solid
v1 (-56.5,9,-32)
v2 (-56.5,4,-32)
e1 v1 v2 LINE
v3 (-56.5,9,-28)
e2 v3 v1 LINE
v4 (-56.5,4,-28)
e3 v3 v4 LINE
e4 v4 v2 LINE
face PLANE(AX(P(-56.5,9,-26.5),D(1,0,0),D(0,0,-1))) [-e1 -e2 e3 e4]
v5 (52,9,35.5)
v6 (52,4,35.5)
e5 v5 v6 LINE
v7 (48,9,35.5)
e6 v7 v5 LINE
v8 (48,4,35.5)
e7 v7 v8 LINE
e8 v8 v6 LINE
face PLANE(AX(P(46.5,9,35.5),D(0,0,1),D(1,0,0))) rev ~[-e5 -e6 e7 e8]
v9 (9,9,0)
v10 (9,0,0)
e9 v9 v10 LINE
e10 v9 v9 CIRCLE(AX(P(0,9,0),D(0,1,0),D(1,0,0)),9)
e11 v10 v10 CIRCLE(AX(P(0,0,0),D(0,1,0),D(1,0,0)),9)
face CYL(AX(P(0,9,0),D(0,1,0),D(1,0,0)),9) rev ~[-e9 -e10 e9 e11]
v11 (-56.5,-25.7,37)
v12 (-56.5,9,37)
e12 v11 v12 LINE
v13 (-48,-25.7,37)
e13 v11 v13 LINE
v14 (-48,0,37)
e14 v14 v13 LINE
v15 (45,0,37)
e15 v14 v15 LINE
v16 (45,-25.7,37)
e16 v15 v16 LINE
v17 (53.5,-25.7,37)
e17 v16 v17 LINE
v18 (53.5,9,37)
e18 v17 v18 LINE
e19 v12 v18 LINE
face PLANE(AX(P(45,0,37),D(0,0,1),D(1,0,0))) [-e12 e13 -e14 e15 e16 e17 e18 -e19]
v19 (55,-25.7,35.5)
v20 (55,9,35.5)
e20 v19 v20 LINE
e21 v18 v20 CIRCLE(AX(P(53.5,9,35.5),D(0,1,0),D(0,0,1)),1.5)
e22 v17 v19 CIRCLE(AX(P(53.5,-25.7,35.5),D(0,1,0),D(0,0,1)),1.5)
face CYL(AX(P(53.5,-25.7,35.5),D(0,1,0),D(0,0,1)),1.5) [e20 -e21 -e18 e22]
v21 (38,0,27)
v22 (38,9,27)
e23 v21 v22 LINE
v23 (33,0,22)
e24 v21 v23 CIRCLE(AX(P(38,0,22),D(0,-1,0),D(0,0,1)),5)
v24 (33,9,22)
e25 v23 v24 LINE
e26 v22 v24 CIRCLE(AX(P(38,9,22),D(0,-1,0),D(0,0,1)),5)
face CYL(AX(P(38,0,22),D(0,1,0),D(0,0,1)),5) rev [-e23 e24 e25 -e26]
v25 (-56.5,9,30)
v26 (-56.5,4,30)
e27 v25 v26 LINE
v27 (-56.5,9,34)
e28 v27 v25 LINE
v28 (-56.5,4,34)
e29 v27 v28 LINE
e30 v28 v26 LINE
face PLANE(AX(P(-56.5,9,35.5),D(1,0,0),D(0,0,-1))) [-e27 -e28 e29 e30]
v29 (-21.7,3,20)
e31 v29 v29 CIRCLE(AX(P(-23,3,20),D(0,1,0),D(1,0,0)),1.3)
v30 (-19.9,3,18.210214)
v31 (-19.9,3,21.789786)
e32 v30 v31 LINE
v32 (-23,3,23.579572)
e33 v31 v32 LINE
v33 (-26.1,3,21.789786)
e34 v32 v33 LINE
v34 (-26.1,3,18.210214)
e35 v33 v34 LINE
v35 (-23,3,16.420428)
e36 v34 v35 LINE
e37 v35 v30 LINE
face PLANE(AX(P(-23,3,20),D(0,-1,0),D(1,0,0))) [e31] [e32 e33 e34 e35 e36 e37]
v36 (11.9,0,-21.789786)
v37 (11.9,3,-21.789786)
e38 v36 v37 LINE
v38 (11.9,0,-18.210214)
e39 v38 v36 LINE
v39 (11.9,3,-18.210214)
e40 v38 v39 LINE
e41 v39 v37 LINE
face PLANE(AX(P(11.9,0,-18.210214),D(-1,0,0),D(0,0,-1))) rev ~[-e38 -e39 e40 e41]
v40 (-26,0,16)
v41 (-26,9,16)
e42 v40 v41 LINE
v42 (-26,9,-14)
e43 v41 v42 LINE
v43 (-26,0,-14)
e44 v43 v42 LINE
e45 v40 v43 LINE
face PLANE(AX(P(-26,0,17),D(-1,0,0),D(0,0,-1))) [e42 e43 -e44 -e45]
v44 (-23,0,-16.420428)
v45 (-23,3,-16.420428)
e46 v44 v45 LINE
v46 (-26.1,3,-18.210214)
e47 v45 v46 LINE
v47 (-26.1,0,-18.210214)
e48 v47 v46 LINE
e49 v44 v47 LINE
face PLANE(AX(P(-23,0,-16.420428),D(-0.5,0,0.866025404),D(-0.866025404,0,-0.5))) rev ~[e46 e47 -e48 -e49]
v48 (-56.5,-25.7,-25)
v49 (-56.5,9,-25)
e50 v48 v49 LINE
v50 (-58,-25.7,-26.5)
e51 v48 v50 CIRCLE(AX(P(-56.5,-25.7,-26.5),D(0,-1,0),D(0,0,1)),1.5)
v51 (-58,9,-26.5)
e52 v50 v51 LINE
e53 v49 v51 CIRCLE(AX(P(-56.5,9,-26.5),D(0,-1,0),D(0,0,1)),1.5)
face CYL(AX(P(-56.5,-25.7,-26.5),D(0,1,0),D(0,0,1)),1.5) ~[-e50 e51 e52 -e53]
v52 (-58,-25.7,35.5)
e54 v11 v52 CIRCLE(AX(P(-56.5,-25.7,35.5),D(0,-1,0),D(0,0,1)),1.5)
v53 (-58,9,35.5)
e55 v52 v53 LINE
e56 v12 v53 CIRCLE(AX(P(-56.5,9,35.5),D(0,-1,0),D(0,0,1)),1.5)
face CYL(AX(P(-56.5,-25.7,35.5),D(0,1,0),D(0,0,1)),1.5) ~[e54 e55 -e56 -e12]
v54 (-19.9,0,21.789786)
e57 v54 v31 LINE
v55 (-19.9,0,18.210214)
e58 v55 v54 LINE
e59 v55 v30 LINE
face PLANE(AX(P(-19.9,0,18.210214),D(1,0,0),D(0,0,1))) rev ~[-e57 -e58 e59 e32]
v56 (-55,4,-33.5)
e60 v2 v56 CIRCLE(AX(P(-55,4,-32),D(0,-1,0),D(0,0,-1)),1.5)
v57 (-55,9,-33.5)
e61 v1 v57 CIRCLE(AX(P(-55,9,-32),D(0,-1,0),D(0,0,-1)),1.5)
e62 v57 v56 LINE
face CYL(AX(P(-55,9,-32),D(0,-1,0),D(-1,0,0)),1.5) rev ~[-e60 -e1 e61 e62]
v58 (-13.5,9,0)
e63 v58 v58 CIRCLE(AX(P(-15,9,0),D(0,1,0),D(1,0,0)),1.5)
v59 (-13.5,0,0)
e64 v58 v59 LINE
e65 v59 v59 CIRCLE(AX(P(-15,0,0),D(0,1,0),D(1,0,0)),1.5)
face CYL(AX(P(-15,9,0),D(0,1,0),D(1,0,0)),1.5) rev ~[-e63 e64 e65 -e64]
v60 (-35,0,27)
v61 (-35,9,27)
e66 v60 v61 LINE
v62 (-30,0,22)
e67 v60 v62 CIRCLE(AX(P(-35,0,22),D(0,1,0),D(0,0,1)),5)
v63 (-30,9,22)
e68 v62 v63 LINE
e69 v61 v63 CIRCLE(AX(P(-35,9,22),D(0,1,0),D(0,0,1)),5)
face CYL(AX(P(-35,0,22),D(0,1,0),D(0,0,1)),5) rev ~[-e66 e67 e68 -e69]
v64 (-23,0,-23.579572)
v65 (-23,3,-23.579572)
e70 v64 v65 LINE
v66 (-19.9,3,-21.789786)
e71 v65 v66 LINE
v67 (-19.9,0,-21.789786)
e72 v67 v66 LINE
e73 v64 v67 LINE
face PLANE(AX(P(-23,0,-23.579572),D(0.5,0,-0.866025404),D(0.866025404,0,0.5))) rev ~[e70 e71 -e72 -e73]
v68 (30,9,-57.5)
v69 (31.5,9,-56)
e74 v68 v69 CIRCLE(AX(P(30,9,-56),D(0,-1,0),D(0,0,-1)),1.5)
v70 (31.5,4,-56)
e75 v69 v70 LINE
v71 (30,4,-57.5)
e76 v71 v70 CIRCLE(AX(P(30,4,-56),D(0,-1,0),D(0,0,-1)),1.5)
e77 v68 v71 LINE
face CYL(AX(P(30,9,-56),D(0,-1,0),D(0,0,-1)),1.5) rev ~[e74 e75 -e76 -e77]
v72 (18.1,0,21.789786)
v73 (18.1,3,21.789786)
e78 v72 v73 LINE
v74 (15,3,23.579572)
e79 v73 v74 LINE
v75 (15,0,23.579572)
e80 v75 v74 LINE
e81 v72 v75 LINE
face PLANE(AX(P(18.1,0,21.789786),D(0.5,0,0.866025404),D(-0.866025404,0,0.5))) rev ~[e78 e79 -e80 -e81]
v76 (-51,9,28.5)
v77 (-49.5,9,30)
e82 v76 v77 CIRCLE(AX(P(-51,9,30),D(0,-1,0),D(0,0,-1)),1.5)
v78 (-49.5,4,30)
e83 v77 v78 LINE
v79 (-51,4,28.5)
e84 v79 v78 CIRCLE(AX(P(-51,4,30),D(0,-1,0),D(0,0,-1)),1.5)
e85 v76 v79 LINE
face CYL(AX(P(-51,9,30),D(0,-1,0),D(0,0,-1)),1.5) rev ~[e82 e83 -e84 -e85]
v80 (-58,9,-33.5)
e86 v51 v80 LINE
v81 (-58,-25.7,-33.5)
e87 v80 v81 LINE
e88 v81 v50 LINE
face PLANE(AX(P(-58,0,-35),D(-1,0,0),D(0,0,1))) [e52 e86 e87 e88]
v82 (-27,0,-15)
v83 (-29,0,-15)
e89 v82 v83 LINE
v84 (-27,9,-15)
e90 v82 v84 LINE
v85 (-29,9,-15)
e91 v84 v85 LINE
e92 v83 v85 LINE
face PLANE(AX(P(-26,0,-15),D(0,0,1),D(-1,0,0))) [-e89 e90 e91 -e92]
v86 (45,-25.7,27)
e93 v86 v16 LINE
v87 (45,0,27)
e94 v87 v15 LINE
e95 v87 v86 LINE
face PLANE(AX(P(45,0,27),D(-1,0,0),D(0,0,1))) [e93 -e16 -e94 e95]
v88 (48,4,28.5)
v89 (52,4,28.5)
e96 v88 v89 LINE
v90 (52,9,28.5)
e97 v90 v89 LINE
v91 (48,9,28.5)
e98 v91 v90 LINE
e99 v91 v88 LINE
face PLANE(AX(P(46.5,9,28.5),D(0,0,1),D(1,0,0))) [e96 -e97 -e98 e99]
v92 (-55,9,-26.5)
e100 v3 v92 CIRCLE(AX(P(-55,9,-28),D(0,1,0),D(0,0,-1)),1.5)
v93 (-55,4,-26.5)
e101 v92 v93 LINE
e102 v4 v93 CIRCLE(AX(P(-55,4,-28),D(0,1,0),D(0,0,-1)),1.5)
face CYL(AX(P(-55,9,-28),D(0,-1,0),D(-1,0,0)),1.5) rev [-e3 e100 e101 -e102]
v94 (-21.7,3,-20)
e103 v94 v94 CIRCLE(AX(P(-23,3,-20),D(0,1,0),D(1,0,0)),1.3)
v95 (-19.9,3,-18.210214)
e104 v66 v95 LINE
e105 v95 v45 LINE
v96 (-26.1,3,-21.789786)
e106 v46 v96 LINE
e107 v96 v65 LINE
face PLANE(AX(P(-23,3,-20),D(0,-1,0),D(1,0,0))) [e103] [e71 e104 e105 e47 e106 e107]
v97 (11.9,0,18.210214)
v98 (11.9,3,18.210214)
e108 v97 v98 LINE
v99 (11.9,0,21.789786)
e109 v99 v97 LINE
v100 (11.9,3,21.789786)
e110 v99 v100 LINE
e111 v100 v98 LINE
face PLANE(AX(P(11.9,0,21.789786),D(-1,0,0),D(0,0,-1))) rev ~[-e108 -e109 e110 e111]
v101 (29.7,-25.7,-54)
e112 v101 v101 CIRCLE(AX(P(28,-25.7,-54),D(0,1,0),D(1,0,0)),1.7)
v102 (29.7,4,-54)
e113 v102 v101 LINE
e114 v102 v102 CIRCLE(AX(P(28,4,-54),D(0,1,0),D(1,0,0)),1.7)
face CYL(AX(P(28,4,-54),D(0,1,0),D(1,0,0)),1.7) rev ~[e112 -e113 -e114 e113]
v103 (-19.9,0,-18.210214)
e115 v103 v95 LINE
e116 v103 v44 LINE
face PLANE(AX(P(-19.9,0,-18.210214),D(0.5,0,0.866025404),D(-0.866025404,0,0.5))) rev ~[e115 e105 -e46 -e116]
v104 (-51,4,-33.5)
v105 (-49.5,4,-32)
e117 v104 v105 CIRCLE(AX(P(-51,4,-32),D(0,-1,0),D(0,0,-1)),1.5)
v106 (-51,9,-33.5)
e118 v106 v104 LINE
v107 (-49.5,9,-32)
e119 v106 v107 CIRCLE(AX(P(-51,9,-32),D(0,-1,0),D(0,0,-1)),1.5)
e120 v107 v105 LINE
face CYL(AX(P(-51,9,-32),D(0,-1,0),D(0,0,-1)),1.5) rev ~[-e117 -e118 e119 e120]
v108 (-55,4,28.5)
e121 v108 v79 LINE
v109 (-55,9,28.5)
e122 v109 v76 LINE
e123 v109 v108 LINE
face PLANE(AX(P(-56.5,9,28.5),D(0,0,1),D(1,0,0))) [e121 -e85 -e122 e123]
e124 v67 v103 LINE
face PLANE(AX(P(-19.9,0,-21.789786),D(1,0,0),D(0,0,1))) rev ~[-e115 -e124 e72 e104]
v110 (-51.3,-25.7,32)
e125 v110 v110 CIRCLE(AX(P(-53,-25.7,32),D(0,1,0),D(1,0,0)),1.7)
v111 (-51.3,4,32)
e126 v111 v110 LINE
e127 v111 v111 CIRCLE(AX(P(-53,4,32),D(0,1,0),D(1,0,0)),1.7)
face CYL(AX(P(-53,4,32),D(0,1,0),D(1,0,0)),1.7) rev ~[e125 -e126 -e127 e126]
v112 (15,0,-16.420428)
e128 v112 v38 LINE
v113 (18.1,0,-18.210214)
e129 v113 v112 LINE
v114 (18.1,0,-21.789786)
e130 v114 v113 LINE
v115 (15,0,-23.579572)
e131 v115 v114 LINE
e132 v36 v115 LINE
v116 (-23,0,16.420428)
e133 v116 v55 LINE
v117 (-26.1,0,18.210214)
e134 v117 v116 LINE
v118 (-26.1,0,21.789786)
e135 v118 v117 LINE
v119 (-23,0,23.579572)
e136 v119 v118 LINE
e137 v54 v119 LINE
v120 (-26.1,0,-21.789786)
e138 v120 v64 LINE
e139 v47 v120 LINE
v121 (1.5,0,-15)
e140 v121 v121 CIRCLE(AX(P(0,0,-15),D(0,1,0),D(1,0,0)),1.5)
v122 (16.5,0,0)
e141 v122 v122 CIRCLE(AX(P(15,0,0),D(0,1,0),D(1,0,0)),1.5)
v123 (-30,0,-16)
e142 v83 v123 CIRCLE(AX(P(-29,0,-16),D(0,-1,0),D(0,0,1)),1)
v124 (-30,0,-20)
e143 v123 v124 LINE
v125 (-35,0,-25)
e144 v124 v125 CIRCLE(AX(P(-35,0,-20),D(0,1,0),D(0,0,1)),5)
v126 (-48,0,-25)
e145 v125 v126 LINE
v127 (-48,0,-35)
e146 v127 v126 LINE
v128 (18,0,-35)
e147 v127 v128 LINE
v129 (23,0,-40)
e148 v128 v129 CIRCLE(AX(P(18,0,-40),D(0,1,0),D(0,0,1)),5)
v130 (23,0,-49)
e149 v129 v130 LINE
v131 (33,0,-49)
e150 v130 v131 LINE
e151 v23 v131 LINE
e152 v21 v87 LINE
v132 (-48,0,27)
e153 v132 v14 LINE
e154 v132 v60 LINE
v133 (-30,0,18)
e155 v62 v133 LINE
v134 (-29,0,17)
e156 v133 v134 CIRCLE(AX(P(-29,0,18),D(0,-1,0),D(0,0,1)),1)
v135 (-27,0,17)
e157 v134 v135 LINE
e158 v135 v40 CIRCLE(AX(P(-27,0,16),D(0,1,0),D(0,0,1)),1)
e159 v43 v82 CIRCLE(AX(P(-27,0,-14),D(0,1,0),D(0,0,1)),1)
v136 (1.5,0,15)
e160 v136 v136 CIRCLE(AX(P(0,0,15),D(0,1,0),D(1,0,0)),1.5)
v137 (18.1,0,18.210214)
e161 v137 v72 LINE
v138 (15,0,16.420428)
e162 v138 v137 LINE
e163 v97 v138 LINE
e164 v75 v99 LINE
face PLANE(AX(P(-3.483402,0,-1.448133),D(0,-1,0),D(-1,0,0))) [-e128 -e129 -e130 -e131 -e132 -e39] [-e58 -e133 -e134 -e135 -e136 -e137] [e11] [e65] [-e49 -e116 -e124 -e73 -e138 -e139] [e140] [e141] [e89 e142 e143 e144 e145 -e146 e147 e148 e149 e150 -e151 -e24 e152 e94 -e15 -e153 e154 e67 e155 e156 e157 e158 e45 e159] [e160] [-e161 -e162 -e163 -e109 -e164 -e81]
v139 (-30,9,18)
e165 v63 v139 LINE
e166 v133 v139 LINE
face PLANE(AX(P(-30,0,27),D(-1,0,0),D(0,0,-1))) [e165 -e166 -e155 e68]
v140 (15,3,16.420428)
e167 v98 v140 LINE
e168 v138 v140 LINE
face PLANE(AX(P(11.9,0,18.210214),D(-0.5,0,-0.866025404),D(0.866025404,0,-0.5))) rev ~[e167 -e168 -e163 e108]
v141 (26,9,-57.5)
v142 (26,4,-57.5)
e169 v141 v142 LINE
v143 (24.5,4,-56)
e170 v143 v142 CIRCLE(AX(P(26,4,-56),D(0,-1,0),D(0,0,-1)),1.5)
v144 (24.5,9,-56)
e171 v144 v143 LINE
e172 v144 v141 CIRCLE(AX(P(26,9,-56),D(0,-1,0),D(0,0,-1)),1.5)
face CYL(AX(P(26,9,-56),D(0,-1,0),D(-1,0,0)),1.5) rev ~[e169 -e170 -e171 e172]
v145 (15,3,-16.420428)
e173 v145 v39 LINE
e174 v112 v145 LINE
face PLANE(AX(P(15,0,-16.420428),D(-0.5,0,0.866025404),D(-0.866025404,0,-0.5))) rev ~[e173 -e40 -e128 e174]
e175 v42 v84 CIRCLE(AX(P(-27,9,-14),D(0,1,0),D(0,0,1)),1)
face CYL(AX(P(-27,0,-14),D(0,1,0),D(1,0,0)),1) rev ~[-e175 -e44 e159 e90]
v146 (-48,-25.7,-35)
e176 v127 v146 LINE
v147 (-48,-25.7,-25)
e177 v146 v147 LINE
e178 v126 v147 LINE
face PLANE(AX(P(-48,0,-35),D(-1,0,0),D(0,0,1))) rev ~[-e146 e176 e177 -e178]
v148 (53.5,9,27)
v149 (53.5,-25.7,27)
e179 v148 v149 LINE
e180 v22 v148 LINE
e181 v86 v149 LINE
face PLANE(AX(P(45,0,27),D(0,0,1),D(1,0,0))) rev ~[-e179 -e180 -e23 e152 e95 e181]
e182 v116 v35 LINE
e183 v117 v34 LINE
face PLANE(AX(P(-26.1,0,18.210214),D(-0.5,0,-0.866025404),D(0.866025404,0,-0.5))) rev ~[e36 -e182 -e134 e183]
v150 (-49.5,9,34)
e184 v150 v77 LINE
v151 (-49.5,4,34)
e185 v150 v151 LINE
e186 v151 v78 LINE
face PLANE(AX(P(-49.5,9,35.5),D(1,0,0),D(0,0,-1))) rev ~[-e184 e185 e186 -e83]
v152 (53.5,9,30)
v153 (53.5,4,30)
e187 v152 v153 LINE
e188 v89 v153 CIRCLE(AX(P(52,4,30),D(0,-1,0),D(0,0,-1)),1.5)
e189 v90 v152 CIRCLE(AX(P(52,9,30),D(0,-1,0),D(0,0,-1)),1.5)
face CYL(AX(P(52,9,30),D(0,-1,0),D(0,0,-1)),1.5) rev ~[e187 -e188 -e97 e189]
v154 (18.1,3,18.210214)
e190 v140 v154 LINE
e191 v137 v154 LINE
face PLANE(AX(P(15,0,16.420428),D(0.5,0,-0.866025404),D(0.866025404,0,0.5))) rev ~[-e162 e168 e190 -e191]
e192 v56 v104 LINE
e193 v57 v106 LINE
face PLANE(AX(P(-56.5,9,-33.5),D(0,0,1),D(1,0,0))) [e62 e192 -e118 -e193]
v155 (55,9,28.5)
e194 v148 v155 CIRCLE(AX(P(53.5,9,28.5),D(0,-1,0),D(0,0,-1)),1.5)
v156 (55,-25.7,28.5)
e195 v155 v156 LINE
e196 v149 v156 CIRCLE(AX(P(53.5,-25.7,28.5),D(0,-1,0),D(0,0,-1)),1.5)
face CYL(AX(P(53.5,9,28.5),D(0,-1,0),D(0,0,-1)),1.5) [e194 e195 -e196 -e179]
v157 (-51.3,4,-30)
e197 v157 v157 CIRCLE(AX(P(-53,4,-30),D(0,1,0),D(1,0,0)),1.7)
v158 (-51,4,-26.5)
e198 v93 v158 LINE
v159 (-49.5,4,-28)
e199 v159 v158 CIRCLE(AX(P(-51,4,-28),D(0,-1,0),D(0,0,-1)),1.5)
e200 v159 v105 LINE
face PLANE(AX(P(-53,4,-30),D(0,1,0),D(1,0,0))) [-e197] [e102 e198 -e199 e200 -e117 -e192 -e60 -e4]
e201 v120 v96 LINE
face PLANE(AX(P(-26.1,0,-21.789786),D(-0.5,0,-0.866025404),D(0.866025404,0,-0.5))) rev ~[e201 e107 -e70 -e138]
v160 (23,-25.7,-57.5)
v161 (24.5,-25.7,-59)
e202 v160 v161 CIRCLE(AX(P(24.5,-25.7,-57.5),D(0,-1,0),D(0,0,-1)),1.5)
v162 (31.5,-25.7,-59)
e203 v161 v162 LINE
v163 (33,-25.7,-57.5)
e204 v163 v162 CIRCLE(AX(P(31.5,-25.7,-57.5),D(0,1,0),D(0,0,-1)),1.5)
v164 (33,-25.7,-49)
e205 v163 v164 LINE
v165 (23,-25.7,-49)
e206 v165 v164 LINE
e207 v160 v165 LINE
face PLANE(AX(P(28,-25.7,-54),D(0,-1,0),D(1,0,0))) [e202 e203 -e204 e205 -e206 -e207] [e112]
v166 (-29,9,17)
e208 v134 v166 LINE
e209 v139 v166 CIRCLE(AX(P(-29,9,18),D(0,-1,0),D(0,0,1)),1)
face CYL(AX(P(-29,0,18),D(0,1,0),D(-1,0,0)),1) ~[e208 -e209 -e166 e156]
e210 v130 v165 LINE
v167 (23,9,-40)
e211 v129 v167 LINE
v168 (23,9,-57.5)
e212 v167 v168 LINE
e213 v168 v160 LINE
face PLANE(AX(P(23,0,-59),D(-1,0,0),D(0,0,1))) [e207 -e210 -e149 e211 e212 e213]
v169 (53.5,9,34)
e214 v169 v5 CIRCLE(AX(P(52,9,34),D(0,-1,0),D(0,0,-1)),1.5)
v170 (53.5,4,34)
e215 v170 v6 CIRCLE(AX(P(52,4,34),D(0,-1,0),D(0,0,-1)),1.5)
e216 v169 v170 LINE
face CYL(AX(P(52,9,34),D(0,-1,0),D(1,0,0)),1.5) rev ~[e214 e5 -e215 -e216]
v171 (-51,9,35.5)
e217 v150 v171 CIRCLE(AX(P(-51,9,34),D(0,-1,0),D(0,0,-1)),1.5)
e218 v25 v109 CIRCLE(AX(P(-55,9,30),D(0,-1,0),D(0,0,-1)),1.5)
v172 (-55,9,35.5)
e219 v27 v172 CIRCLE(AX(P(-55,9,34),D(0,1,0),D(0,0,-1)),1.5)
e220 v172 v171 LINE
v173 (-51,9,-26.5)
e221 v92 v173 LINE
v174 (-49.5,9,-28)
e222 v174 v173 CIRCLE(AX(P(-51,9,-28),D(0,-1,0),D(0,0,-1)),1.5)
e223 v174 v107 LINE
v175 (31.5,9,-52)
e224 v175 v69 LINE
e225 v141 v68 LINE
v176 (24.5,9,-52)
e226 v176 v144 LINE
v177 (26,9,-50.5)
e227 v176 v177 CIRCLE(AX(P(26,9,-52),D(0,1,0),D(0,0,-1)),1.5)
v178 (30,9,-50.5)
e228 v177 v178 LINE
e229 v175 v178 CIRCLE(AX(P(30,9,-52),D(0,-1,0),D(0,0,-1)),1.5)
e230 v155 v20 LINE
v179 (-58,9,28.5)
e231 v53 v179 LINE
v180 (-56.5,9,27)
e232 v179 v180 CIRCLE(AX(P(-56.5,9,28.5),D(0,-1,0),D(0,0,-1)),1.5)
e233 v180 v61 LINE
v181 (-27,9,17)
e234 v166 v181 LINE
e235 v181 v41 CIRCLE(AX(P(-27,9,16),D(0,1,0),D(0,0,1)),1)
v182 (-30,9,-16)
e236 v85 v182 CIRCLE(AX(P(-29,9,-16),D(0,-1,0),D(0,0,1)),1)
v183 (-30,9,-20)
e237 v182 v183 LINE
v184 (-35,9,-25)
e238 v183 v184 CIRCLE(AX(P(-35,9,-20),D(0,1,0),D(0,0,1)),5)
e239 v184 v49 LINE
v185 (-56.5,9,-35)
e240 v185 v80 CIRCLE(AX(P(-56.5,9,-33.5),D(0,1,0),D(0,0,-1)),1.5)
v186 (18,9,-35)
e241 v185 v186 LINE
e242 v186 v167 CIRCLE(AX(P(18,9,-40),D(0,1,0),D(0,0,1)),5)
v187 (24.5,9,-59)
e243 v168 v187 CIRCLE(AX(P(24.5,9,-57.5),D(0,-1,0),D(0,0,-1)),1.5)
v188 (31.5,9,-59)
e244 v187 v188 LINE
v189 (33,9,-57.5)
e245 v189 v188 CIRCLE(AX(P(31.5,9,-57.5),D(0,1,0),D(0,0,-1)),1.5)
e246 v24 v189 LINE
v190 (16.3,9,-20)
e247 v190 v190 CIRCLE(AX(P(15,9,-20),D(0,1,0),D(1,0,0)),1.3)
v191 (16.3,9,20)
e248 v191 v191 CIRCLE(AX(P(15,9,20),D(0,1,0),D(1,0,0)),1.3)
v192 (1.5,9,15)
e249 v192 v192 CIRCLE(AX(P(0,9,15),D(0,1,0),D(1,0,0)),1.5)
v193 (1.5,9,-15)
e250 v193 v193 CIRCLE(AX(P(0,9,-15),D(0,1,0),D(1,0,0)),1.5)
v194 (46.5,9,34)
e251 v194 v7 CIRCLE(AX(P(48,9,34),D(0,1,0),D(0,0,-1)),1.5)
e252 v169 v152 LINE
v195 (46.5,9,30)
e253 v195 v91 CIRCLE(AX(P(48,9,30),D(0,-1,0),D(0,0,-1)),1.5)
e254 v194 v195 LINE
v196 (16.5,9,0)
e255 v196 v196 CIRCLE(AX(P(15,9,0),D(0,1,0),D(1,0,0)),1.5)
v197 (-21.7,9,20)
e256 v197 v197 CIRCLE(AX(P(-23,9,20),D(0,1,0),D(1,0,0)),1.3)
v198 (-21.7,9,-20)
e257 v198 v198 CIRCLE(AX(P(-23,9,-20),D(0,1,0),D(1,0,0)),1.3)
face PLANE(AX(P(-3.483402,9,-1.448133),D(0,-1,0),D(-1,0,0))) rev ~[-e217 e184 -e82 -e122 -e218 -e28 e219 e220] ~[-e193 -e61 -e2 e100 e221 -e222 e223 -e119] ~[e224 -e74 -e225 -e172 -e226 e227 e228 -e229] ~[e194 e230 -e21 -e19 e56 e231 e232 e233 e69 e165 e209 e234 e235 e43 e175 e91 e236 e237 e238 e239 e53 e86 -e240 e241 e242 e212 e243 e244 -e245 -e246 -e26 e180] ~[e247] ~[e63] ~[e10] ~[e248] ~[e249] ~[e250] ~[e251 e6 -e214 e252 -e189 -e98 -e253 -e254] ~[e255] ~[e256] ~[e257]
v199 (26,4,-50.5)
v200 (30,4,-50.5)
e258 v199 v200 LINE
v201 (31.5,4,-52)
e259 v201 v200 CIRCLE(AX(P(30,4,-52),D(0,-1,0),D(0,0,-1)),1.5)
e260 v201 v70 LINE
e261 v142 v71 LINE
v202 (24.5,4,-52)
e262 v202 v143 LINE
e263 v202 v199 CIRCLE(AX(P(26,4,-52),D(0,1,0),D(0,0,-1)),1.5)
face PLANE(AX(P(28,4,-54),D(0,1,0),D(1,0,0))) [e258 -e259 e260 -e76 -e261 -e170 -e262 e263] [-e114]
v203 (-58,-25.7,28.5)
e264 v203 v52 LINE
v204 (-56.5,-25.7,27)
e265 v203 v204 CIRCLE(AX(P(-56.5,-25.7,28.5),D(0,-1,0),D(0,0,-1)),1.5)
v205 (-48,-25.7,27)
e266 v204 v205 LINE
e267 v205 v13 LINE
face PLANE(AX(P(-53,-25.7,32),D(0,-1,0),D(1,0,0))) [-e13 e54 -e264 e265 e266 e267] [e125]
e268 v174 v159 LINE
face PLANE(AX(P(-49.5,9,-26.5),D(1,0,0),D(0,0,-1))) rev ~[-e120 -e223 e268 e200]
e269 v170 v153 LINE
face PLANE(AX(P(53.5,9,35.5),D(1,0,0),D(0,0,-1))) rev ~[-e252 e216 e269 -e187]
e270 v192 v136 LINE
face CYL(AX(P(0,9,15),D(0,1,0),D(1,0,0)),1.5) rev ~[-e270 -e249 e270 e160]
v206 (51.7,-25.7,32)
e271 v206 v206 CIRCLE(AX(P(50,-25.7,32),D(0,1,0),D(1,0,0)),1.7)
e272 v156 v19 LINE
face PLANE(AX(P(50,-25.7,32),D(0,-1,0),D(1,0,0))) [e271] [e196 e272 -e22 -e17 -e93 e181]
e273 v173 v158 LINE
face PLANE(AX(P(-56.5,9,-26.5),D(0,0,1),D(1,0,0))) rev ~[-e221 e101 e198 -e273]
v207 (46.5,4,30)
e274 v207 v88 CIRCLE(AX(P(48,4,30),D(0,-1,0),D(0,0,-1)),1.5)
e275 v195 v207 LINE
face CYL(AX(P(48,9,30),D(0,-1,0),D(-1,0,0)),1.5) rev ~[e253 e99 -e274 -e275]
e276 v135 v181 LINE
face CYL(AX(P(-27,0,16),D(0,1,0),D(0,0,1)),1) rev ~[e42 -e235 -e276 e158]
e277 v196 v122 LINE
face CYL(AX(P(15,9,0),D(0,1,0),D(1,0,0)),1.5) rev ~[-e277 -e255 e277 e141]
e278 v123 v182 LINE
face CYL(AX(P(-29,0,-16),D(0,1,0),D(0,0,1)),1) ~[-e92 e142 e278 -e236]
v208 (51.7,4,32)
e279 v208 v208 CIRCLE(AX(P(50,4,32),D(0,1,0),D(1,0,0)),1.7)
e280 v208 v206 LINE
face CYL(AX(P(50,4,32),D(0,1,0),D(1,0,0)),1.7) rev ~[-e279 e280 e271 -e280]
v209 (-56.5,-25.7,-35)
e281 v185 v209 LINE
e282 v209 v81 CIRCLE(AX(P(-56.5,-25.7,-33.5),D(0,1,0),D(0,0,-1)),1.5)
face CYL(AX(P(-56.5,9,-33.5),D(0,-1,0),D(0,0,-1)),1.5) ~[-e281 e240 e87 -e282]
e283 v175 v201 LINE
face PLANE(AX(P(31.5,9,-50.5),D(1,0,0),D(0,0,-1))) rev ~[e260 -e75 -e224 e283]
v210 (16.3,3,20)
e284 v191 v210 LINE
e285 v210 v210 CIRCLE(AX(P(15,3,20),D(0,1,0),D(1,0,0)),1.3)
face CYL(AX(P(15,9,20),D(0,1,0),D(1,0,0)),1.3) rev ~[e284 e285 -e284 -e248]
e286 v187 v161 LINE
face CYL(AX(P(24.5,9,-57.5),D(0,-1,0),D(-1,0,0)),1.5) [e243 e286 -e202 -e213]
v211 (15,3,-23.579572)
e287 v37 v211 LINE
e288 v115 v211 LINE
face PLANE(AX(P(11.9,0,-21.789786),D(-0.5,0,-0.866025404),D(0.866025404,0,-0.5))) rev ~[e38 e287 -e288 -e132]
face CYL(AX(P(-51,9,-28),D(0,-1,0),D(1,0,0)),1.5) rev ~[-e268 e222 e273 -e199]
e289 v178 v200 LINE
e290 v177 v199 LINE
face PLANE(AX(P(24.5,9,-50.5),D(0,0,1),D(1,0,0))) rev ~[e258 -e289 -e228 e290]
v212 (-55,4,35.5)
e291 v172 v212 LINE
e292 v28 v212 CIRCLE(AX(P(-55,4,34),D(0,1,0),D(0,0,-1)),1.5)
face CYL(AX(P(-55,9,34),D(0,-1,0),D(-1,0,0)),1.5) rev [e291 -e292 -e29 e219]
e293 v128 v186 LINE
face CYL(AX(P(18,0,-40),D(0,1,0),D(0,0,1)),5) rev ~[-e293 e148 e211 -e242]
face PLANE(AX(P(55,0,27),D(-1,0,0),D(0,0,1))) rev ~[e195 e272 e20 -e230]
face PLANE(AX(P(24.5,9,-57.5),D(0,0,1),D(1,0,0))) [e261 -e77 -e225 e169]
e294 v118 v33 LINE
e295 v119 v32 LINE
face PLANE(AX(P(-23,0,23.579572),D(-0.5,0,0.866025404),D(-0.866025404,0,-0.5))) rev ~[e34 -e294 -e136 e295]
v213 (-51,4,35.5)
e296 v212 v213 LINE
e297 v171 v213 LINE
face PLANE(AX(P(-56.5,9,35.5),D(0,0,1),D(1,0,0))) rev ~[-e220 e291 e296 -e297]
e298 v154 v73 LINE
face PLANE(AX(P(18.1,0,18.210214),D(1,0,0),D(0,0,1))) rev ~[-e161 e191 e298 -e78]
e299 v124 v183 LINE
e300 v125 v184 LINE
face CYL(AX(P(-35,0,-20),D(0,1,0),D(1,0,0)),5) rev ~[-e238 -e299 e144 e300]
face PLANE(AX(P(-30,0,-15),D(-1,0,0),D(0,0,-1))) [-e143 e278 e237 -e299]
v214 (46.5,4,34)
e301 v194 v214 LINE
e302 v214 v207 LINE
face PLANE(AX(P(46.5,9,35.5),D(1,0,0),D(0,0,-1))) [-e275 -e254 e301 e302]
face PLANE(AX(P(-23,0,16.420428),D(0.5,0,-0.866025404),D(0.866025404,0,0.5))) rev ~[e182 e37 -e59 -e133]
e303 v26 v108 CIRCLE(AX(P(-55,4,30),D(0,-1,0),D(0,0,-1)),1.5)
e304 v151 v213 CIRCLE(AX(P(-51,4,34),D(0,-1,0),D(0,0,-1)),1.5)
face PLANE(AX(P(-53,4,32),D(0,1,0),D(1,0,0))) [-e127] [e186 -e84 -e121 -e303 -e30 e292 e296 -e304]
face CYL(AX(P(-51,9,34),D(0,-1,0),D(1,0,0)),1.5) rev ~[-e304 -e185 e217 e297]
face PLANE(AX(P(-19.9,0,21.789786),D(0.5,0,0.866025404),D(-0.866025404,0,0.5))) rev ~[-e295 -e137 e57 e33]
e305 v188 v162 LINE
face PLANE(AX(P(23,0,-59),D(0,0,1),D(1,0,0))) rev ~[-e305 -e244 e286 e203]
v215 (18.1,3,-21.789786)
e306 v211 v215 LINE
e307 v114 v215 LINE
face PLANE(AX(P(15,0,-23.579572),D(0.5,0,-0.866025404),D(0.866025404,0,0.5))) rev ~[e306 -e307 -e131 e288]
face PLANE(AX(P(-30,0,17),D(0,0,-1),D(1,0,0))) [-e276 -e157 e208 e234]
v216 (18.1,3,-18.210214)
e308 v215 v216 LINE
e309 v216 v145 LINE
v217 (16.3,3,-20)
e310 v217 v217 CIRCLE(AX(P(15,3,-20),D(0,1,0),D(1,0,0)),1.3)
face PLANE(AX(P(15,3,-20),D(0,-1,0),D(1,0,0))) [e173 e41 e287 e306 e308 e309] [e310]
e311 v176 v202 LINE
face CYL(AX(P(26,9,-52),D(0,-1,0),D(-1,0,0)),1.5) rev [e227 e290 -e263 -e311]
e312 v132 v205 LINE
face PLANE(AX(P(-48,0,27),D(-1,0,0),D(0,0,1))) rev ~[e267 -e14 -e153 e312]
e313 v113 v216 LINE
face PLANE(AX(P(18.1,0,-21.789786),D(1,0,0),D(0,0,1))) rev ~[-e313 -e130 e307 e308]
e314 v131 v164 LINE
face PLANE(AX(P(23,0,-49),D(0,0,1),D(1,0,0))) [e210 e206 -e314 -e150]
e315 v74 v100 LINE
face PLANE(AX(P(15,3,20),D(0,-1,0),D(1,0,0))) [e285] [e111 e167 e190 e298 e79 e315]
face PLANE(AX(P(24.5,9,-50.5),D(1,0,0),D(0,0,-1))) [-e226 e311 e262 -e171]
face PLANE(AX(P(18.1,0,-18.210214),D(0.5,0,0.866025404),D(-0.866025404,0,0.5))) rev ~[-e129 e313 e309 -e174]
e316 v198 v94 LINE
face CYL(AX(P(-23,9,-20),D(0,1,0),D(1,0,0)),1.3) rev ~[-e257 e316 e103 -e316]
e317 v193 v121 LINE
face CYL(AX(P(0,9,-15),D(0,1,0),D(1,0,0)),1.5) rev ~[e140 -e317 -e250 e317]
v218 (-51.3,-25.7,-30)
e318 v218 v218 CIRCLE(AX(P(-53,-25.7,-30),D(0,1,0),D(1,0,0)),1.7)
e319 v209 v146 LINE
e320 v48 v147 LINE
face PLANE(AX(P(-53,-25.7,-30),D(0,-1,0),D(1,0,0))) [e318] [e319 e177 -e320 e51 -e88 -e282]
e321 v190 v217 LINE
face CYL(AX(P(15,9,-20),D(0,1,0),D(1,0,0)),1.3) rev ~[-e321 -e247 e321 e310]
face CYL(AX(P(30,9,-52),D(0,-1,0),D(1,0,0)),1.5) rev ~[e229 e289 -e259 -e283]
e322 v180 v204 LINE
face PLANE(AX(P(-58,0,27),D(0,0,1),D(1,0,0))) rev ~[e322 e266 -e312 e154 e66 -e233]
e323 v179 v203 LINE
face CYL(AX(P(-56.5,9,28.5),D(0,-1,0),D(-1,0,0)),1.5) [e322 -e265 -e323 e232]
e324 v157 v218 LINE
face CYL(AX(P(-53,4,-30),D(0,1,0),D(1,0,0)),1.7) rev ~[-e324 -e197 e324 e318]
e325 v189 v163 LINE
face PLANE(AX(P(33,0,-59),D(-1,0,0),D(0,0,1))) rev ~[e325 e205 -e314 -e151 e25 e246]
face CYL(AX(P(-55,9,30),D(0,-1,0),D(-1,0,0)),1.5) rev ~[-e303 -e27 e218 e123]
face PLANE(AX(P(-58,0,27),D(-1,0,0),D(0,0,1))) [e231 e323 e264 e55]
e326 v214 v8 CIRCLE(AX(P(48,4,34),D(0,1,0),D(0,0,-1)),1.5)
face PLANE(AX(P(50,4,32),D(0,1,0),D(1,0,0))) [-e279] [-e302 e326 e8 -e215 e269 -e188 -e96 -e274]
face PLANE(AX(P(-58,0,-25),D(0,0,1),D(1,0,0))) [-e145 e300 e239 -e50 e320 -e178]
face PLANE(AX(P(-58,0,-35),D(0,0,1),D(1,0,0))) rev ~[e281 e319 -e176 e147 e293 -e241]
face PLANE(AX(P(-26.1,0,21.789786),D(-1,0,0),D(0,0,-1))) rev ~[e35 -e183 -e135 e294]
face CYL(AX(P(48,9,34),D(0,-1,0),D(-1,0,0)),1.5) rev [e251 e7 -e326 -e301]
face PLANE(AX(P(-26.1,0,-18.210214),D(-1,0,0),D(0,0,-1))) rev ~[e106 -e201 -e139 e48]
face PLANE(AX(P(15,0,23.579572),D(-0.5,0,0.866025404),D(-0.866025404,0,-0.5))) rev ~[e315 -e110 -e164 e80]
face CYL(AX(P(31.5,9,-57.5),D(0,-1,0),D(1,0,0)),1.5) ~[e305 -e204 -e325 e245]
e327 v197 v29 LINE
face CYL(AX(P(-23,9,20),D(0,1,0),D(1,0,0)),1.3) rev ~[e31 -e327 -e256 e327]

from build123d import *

# Parameters (mm, degrees)
BOSS_EXTRUDE1_DEPTH = 9
CUT_EXTRUDE1_REACH  = 11
SKETCH2_R           = 9
SKETCH2_R_2         = 1.5
CUT_EXTRUDE2_REACH  = 11
SKETCH3_R           = 1.3
SKETCH4_W           = 10
SKETCH4_H           = 10
BOSS_EXTRUDE2_DEPTH = 25.7
SKETCH5_W           = 10
SKETCH5_H           = 10
BOSS_EXTRUDE3_DEPTH = 25.7
SKETCH6_W           = 10
SKETCH6_H           = 10
BOSS_EXTRUDE4_DEPTH = 25.7
SKETCH7_W           = 10
SKETCH7_H           = 10
BOSS_EXTRUDE5_DEPTH = 25.7
SKETCH8_W           = 7
SKETCH8_H           = 7
CUT_EXTRUDE3_DEPTH  = 5
CUT_EXTRUDE4_REACH  = 31.7
SKETCH9_R           = 1.7
FILLET1_R           = 1.5
FILLET2_R           = 5
CUT_EXTRUDE7_DEPTH  = 3
FILLET3_R           = 1


with BuildPart() as part:
    # Sketch1 → Boss-Extrude1 (new body)
    with BuildSketch(Plane(origin=(0, 0, 0), x_dir=(1, 0, 0), z_dir=(0, 1, 0))):
        Polygon((-30, -27), (-30, -17), (-26, -17), (-26, 15), (-30, 15), (-30, 25), (-58, 25), (-58, 35), (23, 35), (23, 59), (33, 59), (33, 35), (33, -27), (55, -27), (55, -37), (33, -37), (-26, -37), (-58, -37), (-58, -27), align=None)
    extrude(amount=BOSS_EXTRUDE1_DEPTH)

    # Sketch2 → Cut-Extrude1 (cut, up to next)
    with BuildSketch(Plane(origin=(0, 9, 0), x_dir=(1, 0, 0), z_dir=(0, 1, 0)), mode=Mode.PRIVATE) as cut_extrude1_sk1:
        Circle(SKETCH2_R)
    cut_extrude1_tool1 = extrude(cut_extrude1_sk1.sketch, amount=-CUT_EXTRUDE1_REACH, mode=Mode.PRIVATE) & part.part
    add(cut_extrude1_tool1.solids().sort_by_distance((0, 9, 0))[0], mode=Mode.SUBTRACT)
    # Sketch2 → Cut-Extrude1 (cut, up to next)
    with BuildSketch(Plane(origin=(0, 9, 0), x_dir=(1, 0, 0), z_dir=(0, 1, 0)), mode=Mode.PRIVATE) as cut_extrude1_sk2:
        with Locations((0, 15)):
            Circle(SKETCH2_R_2)
    cut_extrude1_tool2 = extrude(cut_extrude1_sk2.sketch, amount=-CUT_EXTRUDE1_REACH, mode=Mode.PRIVATE) & part.part
    add(cut_extrude1_tool2.solids().sort_by_distance((0, 9, -15))[0], mode=Mode.SUBTRACT)
    # Sketch2 → Cut-Extrude1 (cut, up to next)
    with BuildSketch(Plane(origin=(0, 9, 0), x_dir=(1, 0, 0), z_dir=(0, 1, 0)), mode=Mode.PRIVATE) as cut_extrude1_sk3:
        with Locations((15, 0)):
            Circle(SKETCH2_R_2)
    cut_extrude1_tool3 = extrude(cut_extrude1_sk3.sketch, amount=-CUT_EXTRUDE1_REACH, mode=Mode.PRIVATE) & part.part
    add(cut_extrude1_tool3.solids().sort_by_distance((15, 9, 0))[0], mode=Mode.SUBTRACT)
    # Sketch2 → Cut-Extrude1 (cut, up to next)
    with BuildSketch(Plane(origin=(0, 9, 0), x_dir=(1, 0, 0), z_dir=(0, 1, 0)), mode=Mode.PRIVATE) as cut_extrude1_sk4:
        with Locations((0, -15)):
            Circle(SKETCH2_R_2)
    cut_extrude1_tool4 = extrude(cut_extrude1_sk4.sketch, amount=-CUT_EXTRUDE1_REACH, mode=Mode.PRIVATE) & part.part
    add(cut_extrude1_tool4.solids().sort_by_distance((0, 9, 15))[0], mode=Mode.SUBTRACT)
    # Sketch2 → Cut-Extrude1 (cut, up to next)
    with BuildSketch(Plane(origin=(0, 9, 0), x_dir=(1, 0, 0), z_dir=(0, 1, 0)), mode=Mode.PRIVATE) as cut_extrude1_sk5:
        with Locations((-15, 0)):
            Circle(SKETCH2_R_2)
    cut_extrude1_tool5 = extrude(cut_extrude1_sk5.sketch, amount=-CUT_EXTRUDE1_REACH, mode=Mode.PRIVATE) & part.part
    add(cut_extrude1_tool5.solids().sort_by_distance((-15, 9, 0))[0], mode=Mode.SUBTRACT)

    # Sketch3 → Cut-Extrude2 (cut, up to next)
    with BuildSketch(Plane(origin=(0, 9, 0), x_dir=(1, 0, 0), z_dir=(0, 1, 0)), mode=Mode.PRIVATE) as cut_extrude2_sk1:
        with Locations((-23, 20)):
            Circle(SKETCH3_R)
    cut_extrude2_tool1 = extrude(cut_extrude2_sk1.sketch, amount=-CUT_EXTRUDE2_REACH, mode=Mode.PRIVATE) & part.part
    add(cut_extrude2_tool1.solids().sort_by_distance((-23, 9, -20))[0], mode=Mode.SUBTRACT)
    # Sketch3 → Cut-Extrude2 (cut, up to next)
    with BuildSketch(Plane(origin=(0, 9, 0), x_dir=(1, 0, 0), z_dir=(0, 1, 0)), mode=Mode.PRIVATE) as cut_extrude2_sk2:
        with Locations((-23, -20)):
            Circle(SKETCH3_R)
    cut_extrude2_tool2 = extrude(cut_extrude2_sk2.sketch, amount=-CUT_EXTRUDE2_REACH, mode=Mode.PRIVATE) & part.part
    add(cut_extrude2_tool2.solids().sort_by_distance((-23, 9, 20))[0], mode=Mode.SUBTRACT)
    # Sketch3 → Cut-Extrude2 (cut, up to next)
    with BuildSketch(Plane(origin=(0, 9, 0), x_dir=(1, 0, 0), z_dir=(0, 1, 0)), mode=Mode.PRIVATE) as cut_extrude2_sk3:
        with Locations((15, 20)):
            Circle(SKETCH3_R)
    cut_extrude2_tool3 = extrude(cut_extrude2_sk3.sketch, amount=-CUT_EXTRUDE2_REACH, mode=Mode.PRIVATE) & part.part
    add(cut_extrude2_tool3.solids().sort_by_distance((15, 9, -20))[0], mode=Mode.SUBTRACT)
    # Sketch3 → Cut-Extrude2 (cut, up to next)
    with BuildSketch(Plane(origin=(0, 9, 0), x_dir=(1, 0, 0), z_dir=(0, 1, 0)), mode=Mode.PRIVATE) as cut_extrude2_sk4:
        with Locations((15, -20)):
            Circle(SKETCH3_R)
    cut_extrude2_tool4 = extrude(cut_extrude2_sk4.sketch, amount=-CUT_EXTRUDE2_REACH, mode=Mode.PRIVATE) & part.part
    add(cut_extrude2_tool4.solids().sort_by_distance((15, 9, 20))[0], mode=Mode.SUBTRACT)

    # Sketch4 → Boss-Extrude2 (add)
    with BuildSketch(Plane.XZ):
        with Locations((-53, -30)):
            Rectangle(SKETCH4_W, SKETCH4_H)
    extrude(amount=BOSS_EXTRUDE2_DEPTH)

    # Sketch5 → Boss-Extrude3 (add)
    with BuildSketch(Plane.XZ):
        with Locations((-53, 32)):
            Rectangle(SKETCH5_W, SKETCH5_H)
    extrude(amount=BOSS_EXTRUDE3_DEPTH)

    # Sketch6 → Boss-Extrude4 (add)
    with BuildSketch(Plane.XZ):
        with Locations((28, -54)):
            Rectangle(SKETCH6_W, SKETCH6_H)
    extrude(amount=BOSS_EXTRUDE4_DEPTH)

    # Sketch7 → Boss-Extrude5 (add)
    with BuildSketch(Plane.XZ):
        with Locations((50, 32)):
            Rectangle(SKETCH7_W, SKETCH7_H)
    extrude(amount=BOSS_EXTRUDE5_DEPTH)

    # Sketch8 → Cut-Extrude3 (cut)
    with BuildSketch(Plane(origin=(0, 9, 0), x_dir=(1, 0, 0), z_dir=(0, 1, 0))):
        with Locations((-53, 30)):
            Rectangle(SKETCH8_W, SKETCH8_H)
        with Locations((-53, -32)):
            Rectangle(SKETCH8_W, SKETCH8_H)
        with Locations((50, -32)):
            Rectangle(SKETCH8_W, SKETCH8_H)
        with Locations((28, 54)):
            Rectangle(SKETCH8_W, SKETCH8_H)
    extrude(amount=-CUT_EXTRUDE3_DEPTH, mode=Mode.SUBTRACT)

    # Sketch9 → Cut-Extrude4 (cut, up to next)
    with BuildSketch(Plane(origin=(0, 4, 0), x_dir=(1, 0, 0), z_dir=(0, 1, 0)), mode=Mode.PRIVATE) as cut_extrude4_sk1:
        with Locations((-53, 30)):
            Circle(SKETCH9_R)
    cut_extrude4_tool1 = extrude(cut_extrude4_sk1.sketch, amount=-CUT_EXTRUDE4_REACH, mode=Mode.PRIVATE) & part.part
    add(cut_extrude4_tool1.solids().sort_by_distance((-53, 4, -30))[0], mode=Mode.SUBTRACT)
    # Sketch9 → Cut-Extrude4 (cut, up to next)
    with BuildSketch(Plane(origin=(0, 4, 0), x_dir=(1, 0, 0), z_dir=(0, 1, 0)), mode=Mode.PRIVATE) as cut_extrude4_sk2:
        with Locations((28, 54)):
            Circle(SKETCH9_R)
    cut_extrude4_tool2 = extrude(cut_extrude4_sk2.sketch, amount=-CUT_EXTRUDE4_REACH, mode=Mode.PRIVATE) & part.part
    add(cut_extrude4_tool2.solids().sort_by_distance((28, 4, -54))[0], mode=Mode.SUBTRACT)
    # Sketch9 → Cut-Extrude4 (cut, up to next)
    with BuildSketch(Plane(origin=(0, 4, 0), x_dir=(1, 0, 0), z_dir=(0, 1, 0)), mode=Mode.PRIVATE) as cut_extrude4_sk3:
        with Locations((50, -32)):
            Circle(SKETCH9_R)
    cut_extrude4_tool3 = extrude(cut_extrude4_sk3.sketch, amount=-CUT_EXTRUDE4_REACH, mode=Mode.PRIVATE) & part.part
    add(cut_extrude4_tool3.solids().sort_by_distance((50, 4, 32))[0], mode=Mode.SUBTRACT)
    # Sketch9 → Cut-Extrude4 (cut, up to next)
    with BuildSketch(Plane(origin=(0, 4, 0), x_dir=(1, 0, 0), z_dir=(0, 1, 0)), mode=Mode.PRIVATE) as cut_extrude4_sk4:
        with Locations((-53, -32)):
            Circle(SKETCH9_R)
    cut_extrude4_tool4 = extrude(cut_extrude4_sk4.sketch, amount=-CUT_EXTRUDE4_REACH, mode=Mode.PRIVATE) & part.part
    add(cut_extrude4_tool4.solids().sort_by_distance((-53, 4, 32))[0], mode=Mode.SUBTRACT)

    # Fillet1
    fillet1_edges = [part.edges().sort_by_distance(p)[0] for p in [
        (24.5, 6.5, -57.5),
        (24.5, 6.5, -50.5),
        (31.5, 6.5, -50.5),
        (31.5, 6.5, -57.5),
        (46.5, 6.5, 28.5),
        (46.5, 6.5, 35.5),
        (53.5, 6.5, 35.5),
        (53.5, 6.5, 28.5),
        (-56.5, 6.5, 28.5),
        (-56.5, 6.5, 35.5),
        (-49.5, 6.5, 35.5),
        (-49.5, 6.5, 28.5),
        (-49.5, 6.5, -26.5),
        (-49.5, 6.5, -33.5),
        (-56.5, 6.5, -33.5),
        (-56.5, 6.5, -26.5),
        (-58, -8.35, -35),
        (23, -8.35, -59),
        (33, -8.35, -59),
        (55, -8.35, 27),
        (55, -8.35, 37),
        (-58, -8.35, 37),
        (-58, -8.35, 27),
        (-58, -8.35, -25),
    ]]
    fillet(fillet1_edges, radius=FILLET1_R)

    # Fillet2
    fillet2_edges = [part.edges().sort_by_distance(p)[0] for p in [
        (23, 4.5, -35),
        (33, 4.5, 27),
        (-30, 4.5, 27),
        (-30, 4.5, -25),
    ]]
    fillet(fillet2_edges, radius=FILLET2_R)

    # Sketch12 → Cut-Extrude7 (cut)
    with BuildSketch(Plane.XZ):
        Polygon((-19.9, 18.210214166), (-19.9, 21.789785834), (-23, 23.579571669), (-26.1, 21.789785834), (-26.1, 18.210214166), (-23, 16.420428331), align=None)
        Polygon((18.1, 21.789785834), (15, 23.579571669), (11.9, 21.789785834), (11.9, 18.210214166), (15, 16.420428331), (18.1, 18.210214166), align=None)
        Polygon((18.1, -18.210214166), (15, -16.420428331), (11.9, -18.210214166), (11.9, -21.789785834), (15, -23.579571669), (18.1, -21.789785834), align=None)
        Polygon((-19.9, -18.210214166), (-23, -16.420428331), (-26.1, -18.210214166), (-26.1, -21.789785834), (-23, -23.579571669), (-19.9, -21.789785834), align=None)
    extrude(amount=-CUT_EXTRUDE7_DEPTH, mode=Mode.SUBTRACT)

    # Fillet3
    fillet3_edges = [part.edges().sort_by_distance(p)[0] for p in [
        (-30, 4.5, 17),
        (-26, 4.5, 17),
        (-26, 4.5, -15),
        (-30, 4.5, -15),
    ]]
    fillet(fillet3_edges, radius=FILLET3_R)


solid = part.part
